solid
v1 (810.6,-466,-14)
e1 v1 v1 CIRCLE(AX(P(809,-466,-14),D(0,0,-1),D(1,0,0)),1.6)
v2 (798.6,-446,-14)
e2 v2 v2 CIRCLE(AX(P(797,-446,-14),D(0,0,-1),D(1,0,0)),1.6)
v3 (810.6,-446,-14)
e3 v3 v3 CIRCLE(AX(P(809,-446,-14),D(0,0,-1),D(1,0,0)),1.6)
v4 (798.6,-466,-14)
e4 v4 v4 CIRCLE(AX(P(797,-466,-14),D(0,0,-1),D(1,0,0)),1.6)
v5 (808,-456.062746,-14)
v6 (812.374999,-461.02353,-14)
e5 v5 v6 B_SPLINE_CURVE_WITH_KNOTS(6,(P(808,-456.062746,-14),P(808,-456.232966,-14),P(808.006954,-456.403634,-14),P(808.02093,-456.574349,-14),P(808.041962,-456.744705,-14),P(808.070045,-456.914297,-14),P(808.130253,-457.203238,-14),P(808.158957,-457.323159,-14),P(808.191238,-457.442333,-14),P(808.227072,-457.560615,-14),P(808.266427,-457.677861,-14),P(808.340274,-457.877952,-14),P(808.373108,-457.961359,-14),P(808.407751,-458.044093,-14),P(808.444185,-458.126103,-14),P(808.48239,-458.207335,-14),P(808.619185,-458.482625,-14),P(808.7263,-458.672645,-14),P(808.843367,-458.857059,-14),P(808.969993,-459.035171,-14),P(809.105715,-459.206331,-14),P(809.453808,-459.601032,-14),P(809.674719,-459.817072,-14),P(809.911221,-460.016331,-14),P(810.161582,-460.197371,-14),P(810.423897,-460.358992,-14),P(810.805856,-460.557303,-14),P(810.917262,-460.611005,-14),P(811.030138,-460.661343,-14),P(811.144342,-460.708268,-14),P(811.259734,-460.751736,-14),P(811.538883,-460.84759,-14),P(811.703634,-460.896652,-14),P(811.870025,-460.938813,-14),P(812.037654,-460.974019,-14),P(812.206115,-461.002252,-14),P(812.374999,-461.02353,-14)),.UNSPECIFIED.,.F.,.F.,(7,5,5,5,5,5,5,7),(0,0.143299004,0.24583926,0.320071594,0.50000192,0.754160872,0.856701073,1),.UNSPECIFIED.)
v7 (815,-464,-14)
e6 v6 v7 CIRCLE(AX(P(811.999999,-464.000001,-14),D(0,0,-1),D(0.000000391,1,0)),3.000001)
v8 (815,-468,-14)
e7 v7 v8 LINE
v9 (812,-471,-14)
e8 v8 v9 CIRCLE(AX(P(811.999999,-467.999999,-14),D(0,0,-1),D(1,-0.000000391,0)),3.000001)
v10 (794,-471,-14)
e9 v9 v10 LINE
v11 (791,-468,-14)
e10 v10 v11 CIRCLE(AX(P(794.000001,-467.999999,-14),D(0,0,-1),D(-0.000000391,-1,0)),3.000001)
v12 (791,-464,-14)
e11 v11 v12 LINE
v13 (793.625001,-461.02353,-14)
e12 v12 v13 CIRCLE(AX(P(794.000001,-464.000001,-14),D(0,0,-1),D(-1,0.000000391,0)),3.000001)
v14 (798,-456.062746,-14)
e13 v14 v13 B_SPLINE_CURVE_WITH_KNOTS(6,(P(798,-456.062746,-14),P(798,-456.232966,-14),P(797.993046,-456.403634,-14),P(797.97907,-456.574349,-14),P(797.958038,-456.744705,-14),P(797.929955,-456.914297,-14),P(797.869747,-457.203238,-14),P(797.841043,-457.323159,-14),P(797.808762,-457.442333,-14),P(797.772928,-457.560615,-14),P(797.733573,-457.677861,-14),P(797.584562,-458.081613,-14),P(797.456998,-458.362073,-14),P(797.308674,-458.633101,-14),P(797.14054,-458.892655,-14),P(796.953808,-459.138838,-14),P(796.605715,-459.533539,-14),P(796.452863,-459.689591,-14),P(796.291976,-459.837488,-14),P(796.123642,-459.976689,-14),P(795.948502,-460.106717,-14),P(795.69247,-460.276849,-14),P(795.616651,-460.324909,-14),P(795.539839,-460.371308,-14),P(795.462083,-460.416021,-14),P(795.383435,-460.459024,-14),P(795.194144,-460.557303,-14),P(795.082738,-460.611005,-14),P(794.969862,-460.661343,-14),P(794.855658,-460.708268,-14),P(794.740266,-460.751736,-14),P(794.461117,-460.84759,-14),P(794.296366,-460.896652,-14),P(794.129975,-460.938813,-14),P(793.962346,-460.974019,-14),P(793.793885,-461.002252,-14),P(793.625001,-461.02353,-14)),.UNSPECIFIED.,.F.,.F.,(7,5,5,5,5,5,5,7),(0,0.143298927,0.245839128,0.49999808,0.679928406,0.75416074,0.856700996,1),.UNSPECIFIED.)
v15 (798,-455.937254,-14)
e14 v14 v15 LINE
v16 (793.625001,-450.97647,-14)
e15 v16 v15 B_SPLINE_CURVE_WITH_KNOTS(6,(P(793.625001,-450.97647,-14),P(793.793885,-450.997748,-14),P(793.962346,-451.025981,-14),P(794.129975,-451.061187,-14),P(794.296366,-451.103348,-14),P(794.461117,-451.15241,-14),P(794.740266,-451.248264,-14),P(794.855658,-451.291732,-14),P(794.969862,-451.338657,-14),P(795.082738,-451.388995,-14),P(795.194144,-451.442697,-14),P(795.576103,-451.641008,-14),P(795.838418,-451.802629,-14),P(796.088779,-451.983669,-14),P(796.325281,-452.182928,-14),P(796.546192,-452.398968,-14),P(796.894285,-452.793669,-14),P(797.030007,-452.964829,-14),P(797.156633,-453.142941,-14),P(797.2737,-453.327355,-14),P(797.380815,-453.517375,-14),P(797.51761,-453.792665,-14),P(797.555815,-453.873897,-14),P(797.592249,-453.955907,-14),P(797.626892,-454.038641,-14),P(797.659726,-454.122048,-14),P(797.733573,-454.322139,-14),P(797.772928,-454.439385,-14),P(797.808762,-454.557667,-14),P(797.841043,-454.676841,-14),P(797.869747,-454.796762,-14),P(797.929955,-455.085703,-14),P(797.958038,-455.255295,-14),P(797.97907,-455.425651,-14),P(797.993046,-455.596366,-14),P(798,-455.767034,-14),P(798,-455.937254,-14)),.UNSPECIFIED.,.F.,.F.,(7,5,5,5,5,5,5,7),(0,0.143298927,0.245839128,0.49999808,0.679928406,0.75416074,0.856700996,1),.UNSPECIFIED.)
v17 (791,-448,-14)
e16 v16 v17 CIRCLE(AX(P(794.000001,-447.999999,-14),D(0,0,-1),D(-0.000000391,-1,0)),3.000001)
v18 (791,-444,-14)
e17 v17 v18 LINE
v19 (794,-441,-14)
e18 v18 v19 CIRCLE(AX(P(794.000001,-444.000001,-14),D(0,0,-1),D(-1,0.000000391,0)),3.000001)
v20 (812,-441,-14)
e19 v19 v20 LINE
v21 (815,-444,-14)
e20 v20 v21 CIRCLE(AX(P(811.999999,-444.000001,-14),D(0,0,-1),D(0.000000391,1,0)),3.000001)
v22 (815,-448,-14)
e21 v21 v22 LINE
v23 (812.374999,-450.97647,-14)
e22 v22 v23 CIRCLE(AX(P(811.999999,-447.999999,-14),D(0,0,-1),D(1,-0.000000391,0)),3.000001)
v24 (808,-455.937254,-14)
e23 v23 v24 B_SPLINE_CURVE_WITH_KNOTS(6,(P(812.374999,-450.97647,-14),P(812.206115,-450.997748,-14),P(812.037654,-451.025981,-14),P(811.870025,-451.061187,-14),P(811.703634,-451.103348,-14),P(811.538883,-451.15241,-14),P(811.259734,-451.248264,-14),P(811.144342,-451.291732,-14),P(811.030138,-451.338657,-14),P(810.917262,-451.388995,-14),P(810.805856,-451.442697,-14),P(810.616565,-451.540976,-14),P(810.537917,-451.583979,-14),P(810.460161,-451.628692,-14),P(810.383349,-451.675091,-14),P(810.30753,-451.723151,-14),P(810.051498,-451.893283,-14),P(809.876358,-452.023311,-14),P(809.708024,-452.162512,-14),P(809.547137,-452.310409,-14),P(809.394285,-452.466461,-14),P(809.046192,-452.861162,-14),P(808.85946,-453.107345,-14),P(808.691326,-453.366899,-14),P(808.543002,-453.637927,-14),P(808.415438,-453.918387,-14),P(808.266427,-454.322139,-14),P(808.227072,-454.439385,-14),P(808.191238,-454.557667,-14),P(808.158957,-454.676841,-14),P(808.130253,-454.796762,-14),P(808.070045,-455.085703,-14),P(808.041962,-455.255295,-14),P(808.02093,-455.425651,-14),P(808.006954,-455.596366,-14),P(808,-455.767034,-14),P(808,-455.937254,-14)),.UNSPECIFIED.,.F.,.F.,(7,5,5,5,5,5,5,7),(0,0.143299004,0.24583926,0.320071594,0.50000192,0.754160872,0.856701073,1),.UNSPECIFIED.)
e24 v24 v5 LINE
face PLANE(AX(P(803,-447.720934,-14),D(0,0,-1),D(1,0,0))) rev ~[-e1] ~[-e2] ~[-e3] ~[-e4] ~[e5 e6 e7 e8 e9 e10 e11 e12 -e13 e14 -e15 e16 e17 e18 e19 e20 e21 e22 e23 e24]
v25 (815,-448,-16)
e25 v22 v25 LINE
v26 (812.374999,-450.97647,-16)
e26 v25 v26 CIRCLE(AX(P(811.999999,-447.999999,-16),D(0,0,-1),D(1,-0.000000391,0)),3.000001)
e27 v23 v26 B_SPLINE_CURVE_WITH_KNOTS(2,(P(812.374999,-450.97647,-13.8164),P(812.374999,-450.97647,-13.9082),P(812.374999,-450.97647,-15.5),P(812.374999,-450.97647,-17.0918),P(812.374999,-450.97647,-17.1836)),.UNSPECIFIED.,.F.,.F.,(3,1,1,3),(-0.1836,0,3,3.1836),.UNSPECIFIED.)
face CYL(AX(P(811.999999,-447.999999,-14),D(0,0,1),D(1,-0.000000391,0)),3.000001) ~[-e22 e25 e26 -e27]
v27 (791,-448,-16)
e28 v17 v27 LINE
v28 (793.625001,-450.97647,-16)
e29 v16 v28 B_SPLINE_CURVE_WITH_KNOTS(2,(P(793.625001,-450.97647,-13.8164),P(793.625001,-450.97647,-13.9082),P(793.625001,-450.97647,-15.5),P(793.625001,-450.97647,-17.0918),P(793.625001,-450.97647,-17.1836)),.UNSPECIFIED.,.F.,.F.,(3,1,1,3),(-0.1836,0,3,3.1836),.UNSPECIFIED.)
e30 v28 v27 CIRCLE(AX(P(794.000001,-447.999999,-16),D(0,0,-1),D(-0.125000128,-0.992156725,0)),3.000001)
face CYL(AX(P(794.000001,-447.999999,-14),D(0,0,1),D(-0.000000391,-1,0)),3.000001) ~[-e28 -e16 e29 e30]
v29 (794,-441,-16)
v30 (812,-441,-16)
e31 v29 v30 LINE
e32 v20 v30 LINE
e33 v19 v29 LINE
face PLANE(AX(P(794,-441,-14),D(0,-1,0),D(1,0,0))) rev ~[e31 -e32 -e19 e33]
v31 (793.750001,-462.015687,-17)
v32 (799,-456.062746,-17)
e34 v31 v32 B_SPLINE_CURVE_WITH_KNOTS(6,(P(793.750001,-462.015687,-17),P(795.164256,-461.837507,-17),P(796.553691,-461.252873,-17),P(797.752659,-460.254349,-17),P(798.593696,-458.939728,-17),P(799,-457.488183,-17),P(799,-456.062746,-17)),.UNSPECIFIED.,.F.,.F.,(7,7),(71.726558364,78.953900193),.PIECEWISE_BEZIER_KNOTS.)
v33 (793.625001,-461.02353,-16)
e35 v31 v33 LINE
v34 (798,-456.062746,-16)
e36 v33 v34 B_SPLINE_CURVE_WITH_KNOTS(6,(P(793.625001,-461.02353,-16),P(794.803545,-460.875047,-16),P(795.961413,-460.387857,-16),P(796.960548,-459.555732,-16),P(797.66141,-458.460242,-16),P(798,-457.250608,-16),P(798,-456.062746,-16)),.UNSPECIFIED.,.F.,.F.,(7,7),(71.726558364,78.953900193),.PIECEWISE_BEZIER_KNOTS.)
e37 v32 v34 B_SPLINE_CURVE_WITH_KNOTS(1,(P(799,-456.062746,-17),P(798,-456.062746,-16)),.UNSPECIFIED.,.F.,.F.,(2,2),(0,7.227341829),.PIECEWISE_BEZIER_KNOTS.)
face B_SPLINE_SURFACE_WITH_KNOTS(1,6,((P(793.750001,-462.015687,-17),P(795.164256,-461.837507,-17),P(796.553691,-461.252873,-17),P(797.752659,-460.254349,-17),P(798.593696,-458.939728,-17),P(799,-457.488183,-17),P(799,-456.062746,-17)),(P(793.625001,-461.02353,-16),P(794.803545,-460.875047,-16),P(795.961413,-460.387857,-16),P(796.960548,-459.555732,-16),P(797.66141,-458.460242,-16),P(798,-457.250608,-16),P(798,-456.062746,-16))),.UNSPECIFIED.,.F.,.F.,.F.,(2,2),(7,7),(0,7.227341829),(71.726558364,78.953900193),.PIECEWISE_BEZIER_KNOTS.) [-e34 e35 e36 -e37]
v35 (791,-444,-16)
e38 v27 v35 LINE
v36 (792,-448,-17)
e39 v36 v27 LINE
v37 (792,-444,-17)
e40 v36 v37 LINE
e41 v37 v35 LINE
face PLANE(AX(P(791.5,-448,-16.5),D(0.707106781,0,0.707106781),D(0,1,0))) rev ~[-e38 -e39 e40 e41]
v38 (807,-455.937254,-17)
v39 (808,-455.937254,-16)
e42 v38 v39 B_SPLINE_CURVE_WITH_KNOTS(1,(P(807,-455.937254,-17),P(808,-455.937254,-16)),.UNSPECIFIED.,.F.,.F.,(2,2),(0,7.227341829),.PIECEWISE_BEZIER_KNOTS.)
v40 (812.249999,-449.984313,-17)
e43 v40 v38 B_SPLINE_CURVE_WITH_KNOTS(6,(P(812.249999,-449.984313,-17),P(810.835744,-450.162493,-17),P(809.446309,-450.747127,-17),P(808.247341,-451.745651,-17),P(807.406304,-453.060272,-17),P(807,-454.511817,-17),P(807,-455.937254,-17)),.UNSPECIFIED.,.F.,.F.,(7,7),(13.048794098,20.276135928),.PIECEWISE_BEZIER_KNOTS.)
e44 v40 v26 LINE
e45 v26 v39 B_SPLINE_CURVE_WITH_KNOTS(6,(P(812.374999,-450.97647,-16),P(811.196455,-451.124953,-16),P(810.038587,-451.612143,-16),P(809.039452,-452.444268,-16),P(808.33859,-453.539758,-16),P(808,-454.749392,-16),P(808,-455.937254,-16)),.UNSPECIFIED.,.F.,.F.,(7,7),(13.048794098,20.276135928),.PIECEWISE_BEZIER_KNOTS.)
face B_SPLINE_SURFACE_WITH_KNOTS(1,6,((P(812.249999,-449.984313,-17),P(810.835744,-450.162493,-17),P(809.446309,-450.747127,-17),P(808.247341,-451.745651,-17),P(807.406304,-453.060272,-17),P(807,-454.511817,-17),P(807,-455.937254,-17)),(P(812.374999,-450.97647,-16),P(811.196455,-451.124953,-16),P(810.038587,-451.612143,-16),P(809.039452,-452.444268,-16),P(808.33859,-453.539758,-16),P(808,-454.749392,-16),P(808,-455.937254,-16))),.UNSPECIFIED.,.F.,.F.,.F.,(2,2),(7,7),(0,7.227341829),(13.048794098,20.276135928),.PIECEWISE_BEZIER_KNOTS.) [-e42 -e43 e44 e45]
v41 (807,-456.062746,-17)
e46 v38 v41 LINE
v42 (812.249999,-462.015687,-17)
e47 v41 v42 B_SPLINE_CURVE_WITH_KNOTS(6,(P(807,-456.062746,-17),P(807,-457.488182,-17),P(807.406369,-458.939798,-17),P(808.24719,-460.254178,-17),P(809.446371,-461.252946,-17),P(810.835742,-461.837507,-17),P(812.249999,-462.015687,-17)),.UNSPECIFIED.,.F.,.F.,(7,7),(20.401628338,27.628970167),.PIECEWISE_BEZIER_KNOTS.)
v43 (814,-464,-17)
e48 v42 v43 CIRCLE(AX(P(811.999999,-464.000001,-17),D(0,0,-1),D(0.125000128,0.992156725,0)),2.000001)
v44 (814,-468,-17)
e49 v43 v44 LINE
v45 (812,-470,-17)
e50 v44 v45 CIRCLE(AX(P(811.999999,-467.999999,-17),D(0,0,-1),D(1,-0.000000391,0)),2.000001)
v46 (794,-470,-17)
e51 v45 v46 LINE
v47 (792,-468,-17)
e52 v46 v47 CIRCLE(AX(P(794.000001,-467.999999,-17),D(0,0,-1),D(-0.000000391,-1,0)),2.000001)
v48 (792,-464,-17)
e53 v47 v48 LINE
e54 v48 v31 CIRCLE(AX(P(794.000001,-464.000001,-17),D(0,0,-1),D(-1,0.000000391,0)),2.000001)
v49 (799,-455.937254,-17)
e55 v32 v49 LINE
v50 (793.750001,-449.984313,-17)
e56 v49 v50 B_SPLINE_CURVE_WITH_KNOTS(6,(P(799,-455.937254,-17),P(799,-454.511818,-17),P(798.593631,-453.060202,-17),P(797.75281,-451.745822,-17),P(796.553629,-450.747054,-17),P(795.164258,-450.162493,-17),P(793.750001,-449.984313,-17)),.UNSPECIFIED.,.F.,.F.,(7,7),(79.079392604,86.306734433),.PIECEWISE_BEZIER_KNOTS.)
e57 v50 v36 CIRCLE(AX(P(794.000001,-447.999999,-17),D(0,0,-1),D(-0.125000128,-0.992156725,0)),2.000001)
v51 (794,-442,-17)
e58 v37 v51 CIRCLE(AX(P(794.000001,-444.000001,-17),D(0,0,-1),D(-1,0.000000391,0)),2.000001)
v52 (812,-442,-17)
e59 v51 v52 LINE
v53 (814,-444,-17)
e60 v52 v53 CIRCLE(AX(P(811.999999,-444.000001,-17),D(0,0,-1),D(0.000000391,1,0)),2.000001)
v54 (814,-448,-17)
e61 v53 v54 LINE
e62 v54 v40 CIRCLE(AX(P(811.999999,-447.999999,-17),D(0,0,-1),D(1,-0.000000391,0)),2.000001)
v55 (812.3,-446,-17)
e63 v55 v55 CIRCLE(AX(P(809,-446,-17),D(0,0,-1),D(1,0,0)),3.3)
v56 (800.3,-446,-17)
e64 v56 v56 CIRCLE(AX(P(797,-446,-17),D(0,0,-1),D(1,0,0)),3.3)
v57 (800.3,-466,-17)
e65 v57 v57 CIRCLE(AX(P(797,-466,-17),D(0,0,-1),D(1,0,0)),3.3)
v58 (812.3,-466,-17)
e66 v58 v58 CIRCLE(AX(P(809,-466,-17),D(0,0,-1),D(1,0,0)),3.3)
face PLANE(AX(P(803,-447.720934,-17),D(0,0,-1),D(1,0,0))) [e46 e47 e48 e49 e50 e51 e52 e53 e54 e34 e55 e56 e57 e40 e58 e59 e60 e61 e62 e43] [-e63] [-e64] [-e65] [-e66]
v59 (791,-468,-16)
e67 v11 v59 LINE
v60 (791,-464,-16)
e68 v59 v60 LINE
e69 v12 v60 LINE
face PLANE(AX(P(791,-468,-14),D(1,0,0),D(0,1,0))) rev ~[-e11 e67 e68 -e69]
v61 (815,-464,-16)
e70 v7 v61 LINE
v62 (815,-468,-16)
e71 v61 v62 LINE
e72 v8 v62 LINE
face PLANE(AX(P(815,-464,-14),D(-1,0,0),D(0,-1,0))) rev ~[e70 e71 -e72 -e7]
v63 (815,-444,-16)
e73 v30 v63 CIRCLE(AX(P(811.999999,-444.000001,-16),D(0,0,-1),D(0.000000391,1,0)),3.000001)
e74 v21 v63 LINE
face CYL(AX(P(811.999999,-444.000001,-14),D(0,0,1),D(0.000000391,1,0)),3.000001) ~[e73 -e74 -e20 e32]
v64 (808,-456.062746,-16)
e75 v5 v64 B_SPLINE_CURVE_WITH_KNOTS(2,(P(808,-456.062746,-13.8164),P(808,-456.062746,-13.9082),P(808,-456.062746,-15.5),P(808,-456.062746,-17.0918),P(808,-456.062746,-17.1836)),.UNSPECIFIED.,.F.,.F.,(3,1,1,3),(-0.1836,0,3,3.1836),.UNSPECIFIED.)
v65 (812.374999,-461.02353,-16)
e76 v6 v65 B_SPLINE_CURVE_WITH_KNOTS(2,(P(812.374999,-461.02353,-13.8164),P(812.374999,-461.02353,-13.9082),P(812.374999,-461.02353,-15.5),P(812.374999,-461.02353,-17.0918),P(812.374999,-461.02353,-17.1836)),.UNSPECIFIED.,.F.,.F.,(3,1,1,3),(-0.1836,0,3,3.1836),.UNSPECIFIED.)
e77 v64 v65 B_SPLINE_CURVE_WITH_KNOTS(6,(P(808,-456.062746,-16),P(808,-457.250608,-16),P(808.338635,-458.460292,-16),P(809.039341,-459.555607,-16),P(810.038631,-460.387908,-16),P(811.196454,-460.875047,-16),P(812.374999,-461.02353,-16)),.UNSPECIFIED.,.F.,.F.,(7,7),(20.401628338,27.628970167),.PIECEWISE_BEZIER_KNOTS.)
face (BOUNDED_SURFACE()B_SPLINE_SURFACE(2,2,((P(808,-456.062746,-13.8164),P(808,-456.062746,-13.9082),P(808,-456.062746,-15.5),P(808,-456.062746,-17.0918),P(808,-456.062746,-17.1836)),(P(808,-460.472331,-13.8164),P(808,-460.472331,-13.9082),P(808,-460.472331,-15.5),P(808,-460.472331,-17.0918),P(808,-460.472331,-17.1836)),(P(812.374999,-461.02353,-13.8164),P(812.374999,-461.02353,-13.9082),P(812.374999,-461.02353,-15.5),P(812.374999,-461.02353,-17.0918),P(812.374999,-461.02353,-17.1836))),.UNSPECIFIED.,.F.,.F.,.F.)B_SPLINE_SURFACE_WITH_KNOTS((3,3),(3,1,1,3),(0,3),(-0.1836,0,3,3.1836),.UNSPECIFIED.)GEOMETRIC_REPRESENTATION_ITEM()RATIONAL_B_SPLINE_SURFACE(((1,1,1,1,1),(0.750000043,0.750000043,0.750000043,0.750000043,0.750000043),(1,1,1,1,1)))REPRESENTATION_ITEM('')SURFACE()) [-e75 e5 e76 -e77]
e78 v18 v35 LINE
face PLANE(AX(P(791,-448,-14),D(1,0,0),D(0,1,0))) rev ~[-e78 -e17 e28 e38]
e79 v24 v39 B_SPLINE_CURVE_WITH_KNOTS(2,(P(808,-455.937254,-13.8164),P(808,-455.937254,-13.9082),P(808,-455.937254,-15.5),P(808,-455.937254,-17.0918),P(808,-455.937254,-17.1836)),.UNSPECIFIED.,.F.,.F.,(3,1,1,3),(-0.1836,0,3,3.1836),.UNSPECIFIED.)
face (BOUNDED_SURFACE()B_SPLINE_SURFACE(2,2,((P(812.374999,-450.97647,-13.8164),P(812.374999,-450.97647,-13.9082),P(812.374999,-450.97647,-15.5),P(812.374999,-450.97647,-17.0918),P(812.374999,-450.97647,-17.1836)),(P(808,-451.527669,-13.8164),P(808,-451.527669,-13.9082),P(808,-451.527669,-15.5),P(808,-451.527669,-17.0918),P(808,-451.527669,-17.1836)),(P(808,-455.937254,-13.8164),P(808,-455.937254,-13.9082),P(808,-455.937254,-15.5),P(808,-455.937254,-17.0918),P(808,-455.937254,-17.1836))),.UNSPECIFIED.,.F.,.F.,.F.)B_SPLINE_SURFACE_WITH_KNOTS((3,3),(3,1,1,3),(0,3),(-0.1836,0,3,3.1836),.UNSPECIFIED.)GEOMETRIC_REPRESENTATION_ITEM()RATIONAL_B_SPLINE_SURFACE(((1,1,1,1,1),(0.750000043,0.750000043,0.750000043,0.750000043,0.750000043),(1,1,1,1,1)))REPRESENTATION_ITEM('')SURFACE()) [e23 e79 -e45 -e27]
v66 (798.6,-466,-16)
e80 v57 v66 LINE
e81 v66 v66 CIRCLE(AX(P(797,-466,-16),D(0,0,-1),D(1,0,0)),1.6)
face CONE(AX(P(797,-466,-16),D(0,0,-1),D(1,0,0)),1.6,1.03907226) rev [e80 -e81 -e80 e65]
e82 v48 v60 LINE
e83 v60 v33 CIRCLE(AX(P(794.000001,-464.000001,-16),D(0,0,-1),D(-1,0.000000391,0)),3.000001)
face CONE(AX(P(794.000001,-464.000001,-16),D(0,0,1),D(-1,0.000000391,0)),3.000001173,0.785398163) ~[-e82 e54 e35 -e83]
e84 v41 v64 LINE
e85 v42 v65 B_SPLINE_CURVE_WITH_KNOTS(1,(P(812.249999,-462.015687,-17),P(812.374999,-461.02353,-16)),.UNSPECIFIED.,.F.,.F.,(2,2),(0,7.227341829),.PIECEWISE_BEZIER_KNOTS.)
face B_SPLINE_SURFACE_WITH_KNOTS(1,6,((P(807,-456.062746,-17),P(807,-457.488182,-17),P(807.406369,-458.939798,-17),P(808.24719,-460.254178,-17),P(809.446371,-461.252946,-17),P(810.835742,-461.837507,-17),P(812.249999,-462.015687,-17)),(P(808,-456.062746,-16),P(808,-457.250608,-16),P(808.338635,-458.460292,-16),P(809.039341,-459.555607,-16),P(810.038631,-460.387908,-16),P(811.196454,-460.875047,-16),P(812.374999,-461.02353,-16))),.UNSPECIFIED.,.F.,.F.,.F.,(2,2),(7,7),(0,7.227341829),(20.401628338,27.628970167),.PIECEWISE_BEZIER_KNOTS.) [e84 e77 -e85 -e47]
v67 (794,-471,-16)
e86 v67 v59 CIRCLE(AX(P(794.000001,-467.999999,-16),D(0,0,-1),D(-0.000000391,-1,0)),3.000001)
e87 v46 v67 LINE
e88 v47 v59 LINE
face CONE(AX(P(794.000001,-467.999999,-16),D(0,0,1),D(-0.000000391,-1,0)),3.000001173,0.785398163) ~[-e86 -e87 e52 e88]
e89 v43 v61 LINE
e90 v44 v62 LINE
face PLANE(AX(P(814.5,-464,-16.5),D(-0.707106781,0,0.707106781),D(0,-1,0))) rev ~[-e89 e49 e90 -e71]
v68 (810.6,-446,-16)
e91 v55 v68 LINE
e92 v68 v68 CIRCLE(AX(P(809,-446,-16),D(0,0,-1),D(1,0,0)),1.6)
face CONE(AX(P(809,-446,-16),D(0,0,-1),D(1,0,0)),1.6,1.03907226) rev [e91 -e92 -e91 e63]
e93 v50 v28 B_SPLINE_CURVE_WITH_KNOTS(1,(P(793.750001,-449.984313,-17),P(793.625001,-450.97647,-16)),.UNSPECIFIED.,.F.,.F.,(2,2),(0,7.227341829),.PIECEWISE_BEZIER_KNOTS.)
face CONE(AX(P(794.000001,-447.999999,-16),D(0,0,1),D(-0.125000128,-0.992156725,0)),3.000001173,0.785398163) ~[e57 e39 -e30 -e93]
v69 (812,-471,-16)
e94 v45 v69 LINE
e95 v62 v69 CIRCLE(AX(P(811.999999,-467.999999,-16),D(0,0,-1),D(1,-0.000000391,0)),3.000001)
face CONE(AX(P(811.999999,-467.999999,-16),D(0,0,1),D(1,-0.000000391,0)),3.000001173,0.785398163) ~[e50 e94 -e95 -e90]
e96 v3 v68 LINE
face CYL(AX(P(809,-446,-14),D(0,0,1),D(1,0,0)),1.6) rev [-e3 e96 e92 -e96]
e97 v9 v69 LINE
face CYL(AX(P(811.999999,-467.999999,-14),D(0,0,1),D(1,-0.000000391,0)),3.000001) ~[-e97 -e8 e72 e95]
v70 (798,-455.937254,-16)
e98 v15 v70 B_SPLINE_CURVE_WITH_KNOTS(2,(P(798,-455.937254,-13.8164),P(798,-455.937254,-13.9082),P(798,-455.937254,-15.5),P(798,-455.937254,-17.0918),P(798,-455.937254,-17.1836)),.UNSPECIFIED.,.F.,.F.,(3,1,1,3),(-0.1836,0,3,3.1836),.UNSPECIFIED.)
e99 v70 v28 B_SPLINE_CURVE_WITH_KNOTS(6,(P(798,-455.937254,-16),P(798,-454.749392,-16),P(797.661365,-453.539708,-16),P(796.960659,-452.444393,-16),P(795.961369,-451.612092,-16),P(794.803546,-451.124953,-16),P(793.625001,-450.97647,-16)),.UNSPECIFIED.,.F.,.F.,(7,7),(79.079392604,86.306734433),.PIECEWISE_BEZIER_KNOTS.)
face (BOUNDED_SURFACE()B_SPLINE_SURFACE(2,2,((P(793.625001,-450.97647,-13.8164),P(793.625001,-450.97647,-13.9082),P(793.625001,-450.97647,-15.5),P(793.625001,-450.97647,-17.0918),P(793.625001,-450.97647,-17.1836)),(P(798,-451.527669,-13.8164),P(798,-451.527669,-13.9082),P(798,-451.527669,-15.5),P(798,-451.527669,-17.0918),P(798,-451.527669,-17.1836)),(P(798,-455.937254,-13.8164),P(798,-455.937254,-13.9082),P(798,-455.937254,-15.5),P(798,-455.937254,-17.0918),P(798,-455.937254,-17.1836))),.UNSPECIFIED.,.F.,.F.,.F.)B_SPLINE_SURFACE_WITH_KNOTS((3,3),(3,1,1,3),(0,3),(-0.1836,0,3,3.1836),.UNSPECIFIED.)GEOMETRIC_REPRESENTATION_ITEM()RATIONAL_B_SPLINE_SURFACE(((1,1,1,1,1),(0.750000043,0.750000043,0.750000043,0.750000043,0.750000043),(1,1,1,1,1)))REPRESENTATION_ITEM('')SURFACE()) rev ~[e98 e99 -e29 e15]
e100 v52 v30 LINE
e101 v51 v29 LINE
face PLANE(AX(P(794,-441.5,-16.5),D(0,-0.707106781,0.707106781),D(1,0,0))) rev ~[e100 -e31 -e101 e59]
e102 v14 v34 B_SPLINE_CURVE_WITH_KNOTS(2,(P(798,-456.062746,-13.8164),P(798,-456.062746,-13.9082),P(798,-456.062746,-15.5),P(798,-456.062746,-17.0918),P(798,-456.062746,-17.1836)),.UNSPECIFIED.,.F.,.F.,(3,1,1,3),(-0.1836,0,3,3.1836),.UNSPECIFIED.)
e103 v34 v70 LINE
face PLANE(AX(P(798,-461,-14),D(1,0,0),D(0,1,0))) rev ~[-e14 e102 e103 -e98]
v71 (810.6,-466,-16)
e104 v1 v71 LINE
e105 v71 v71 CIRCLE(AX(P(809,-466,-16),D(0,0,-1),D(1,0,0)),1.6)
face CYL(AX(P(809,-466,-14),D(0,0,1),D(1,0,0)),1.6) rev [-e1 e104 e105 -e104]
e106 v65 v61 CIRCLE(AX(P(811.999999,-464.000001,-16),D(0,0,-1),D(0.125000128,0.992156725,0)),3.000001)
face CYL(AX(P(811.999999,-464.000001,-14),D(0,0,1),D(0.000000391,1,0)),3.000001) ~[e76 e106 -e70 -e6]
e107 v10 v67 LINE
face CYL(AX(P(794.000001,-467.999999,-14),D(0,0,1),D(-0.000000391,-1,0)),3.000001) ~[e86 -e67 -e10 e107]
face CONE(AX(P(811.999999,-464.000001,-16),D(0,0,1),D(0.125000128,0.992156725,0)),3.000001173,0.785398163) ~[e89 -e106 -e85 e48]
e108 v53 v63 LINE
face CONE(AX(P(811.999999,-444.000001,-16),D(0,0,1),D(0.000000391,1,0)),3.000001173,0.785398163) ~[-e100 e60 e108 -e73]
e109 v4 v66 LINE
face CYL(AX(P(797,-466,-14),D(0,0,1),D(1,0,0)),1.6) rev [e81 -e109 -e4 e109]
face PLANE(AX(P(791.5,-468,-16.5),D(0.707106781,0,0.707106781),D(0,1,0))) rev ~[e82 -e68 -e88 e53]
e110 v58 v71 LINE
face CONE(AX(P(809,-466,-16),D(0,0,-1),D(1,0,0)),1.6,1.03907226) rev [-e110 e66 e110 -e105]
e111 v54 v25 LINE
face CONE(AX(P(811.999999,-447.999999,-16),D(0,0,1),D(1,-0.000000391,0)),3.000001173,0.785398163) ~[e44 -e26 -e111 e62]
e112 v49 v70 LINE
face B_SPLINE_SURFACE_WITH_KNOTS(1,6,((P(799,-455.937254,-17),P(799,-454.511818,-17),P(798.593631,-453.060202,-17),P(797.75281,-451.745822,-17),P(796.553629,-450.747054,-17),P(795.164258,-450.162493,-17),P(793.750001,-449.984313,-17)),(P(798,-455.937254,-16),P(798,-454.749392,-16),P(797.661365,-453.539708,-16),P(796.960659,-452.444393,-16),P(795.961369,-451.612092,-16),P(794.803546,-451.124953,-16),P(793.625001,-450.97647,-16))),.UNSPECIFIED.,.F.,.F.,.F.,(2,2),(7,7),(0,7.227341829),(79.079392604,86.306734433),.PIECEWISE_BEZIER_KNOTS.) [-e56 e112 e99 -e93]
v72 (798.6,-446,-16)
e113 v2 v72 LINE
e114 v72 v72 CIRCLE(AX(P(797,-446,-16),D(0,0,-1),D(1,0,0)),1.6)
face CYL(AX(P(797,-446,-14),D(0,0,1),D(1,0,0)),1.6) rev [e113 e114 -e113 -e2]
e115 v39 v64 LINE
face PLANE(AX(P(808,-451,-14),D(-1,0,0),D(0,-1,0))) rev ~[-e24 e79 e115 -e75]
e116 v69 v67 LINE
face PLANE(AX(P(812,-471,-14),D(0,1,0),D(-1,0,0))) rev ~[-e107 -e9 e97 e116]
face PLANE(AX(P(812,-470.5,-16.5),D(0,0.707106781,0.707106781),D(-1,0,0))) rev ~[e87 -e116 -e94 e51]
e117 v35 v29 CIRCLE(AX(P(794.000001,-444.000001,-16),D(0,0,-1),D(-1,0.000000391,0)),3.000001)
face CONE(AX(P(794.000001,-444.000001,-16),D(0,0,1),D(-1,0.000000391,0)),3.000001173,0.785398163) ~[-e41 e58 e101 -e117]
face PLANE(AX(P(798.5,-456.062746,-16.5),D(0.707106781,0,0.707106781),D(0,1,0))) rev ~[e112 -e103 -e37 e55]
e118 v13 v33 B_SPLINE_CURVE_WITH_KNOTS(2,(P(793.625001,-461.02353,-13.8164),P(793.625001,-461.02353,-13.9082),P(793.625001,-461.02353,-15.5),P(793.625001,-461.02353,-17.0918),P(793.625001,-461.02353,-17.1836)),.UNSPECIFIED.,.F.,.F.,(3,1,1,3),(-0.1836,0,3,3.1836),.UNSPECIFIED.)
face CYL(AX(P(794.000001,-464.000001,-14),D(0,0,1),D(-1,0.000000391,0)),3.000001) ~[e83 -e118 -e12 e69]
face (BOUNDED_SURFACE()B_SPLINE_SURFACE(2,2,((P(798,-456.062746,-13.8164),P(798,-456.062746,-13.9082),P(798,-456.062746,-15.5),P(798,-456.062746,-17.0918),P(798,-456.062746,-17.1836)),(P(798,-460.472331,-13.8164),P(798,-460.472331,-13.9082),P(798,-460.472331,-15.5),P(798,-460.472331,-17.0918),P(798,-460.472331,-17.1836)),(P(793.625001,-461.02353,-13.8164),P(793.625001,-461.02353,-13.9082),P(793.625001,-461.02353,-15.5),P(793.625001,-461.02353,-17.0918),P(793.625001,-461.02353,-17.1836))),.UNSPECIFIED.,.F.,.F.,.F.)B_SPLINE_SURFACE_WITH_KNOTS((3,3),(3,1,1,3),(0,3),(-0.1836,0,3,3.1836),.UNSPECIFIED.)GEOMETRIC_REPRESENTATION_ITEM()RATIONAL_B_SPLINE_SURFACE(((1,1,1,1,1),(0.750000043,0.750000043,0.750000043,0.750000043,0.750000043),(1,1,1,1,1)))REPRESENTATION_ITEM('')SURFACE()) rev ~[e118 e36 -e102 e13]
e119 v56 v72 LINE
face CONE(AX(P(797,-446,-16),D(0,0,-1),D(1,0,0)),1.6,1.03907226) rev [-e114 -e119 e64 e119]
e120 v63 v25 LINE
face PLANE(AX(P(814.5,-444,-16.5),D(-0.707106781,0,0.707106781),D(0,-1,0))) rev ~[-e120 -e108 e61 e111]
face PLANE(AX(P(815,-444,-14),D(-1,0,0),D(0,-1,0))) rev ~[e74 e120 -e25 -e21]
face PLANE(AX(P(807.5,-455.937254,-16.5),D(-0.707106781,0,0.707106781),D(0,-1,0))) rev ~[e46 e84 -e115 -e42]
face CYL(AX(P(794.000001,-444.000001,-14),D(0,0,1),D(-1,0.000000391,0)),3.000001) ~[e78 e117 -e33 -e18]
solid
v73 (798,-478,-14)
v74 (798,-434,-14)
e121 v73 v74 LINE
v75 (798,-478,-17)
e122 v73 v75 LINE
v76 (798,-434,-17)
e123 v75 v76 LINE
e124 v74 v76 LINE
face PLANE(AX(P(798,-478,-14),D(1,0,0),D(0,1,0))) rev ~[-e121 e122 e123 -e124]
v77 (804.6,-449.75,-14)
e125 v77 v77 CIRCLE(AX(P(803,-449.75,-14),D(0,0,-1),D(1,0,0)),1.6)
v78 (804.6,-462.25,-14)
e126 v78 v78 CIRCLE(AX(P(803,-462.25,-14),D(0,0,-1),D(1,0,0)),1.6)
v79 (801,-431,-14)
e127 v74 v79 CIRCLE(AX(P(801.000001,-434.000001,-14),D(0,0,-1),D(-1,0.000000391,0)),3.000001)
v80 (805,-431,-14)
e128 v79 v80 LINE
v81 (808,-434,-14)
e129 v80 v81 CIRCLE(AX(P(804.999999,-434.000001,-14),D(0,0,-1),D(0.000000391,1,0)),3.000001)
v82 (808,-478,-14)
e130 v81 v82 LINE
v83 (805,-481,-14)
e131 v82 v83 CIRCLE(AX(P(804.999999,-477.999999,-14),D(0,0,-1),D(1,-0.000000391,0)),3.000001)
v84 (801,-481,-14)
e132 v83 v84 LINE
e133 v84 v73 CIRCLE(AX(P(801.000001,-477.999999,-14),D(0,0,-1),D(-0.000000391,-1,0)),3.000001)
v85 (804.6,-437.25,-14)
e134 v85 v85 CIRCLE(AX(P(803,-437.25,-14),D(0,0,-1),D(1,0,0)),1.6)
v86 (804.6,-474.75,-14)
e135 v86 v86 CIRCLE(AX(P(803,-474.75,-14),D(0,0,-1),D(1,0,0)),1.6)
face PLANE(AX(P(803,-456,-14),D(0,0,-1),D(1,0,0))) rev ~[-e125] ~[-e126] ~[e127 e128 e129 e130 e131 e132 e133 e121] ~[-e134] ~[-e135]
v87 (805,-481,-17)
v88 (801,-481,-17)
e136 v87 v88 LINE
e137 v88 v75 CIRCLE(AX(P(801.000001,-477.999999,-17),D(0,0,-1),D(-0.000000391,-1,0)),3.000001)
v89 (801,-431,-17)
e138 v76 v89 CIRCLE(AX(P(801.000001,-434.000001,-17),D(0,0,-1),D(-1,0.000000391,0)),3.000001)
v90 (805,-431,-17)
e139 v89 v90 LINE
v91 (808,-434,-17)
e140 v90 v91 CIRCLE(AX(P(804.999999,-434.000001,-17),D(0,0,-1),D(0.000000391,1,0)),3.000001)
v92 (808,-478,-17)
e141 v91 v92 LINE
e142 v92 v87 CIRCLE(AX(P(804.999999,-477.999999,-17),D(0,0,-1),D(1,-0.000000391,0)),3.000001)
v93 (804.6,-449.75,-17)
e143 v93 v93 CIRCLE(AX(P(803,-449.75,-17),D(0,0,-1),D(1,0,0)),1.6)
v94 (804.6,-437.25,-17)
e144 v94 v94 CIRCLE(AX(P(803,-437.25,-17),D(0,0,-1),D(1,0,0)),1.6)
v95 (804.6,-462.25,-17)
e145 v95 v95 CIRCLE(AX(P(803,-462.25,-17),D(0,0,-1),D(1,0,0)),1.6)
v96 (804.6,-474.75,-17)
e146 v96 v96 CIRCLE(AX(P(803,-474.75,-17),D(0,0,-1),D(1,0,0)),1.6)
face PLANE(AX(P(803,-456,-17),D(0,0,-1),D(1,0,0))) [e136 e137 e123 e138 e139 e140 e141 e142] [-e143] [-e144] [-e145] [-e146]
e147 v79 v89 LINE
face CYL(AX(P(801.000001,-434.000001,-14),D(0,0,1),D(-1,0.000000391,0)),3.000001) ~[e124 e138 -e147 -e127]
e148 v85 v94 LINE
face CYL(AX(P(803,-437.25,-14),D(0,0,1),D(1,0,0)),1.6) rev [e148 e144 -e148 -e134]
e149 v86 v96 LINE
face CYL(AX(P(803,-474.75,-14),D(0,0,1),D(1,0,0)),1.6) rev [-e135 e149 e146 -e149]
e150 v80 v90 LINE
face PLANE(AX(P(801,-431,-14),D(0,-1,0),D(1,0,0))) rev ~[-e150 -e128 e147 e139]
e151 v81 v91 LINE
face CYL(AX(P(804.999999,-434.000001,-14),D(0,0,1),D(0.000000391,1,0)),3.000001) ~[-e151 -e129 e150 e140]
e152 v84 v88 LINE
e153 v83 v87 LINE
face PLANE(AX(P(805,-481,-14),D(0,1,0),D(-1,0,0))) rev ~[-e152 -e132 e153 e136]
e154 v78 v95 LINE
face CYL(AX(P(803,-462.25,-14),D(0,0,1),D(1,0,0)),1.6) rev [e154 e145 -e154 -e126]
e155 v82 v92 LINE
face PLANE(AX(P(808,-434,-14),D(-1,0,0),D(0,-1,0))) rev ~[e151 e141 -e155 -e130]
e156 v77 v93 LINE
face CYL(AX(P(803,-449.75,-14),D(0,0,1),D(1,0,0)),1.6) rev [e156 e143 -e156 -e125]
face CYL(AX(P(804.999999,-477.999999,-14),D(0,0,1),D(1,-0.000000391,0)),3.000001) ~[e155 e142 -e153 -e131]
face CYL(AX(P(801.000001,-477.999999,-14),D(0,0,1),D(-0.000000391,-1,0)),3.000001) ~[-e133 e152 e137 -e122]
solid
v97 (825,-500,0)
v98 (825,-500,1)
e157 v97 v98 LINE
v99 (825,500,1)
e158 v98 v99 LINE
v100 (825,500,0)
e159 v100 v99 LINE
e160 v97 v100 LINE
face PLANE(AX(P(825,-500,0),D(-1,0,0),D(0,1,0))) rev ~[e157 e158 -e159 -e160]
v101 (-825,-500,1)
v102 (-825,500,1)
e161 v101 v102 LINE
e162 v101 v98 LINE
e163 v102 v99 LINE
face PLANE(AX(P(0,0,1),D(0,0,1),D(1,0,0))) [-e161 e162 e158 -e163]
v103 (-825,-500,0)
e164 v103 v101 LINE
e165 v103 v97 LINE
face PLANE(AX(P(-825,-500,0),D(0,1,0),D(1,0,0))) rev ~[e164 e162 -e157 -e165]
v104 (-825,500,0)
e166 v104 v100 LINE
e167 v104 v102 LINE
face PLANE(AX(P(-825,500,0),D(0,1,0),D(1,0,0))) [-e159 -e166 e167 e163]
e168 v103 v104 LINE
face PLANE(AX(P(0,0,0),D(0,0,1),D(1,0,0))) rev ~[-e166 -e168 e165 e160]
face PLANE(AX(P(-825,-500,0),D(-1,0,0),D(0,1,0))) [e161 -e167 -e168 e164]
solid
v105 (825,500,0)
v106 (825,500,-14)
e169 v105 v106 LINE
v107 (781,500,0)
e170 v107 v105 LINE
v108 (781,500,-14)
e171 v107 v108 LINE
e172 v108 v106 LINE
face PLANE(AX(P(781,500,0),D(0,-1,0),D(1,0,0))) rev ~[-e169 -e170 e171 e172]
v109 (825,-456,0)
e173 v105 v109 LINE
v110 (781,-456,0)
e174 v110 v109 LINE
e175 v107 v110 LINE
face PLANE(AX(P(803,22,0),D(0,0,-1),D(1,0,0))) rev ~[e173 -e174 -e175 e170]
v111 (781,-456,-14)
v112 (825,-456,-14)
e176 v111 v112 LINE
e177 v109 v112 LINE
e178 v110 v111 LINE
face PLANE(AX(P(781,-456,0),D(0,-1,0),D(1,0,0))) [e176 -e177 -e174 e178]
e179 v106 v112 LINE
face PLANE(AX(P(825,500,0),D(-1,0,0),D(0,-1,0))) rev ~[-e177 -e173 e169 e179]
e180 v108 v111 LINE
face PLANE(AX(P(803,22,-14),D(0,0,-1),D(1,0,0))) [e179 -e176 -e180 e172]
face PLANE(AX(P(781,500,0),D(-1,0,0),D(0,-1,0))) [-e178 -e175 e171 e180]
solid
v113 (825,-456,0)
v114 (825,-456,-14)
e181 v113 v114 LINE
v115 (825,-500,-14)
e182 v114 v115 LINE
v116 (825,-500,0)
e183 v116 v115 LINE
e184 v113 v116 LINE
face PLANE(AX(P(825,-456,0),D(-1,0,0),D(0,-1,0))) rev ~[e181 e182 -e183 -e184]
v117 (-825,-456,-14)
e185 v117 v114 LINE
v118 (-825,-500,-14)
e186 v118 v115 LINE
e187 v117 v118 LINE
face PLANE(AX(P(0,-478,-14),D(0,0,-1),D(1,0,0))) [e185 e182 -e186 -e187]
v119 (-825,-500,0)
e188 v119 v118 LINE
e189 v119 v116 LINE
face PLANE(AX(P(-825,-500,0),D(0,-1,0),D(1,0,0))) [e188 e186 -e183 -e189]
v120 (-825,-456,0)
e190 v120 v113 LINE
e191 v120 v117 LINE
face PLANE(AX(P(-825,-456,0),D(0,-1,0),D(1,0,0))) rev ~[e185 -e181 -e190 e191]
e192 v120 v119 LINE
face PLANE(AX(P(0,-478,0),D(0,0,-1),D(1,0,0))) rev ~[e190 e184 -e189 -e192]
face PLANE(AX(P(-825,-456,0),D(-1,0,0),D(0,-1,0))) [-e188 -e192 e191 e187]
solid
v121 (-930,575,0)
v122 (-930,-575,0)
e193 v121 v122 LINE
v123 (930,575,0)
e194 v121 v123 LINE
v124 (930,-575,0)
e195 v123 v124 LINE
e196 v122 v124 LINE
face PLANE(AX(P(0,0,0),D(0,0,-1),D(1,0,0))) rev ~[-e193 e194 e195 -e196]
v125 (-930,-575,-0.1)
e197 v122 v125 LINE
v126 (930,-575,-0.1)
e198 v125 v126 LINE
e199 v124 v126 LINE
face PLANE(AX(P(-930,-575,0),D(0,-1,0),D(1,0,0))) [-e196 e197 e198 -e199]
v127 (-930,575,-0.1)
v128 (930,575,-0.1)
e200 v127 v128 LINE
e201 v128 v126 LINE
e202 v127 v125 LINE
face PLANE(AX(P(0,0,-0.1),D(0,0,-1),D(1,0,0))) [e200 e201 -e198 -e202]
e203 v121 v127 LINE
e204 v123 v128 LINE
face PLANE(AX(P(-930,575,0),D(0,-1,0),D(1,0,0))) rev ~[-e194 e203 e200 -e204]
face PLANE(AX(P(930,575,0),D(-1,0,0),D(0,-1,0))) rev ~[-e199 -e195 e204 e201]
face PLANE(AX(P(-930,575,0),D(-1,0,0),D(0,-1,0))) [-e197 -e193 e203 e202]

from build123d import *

# Parameters (mm, degrees)
F0_W      = 1650
F0_H      = 1000
F1_DEPTH  = 1
F2_W      = 1860
F2_H      = 1150
F3_DEPTH  = 0.1
F4_W      = 1650
F4_H      = 44
F5_DEPTH  = 14
F6_W      = 44
F6_H      = 956
F7_DEPTH  = 14
F8_R      = 1.6
F9_DEPTH  = 3
F10_R     = 1.6
F11_DEPTH = 3
F12_R     = 5
F13_SIZE2 = 1
F13_SIZE  = 1.7
F14_SIZE  = 1


with BuildPart() as f1:
    # F0 (on Top) → F1 (new body)
    with BuildSketch(Plane.XY):
        Rectangle(F0_W, F0_H)
    extrude(amount=F1_DEPTH)


with BuildPart() as f3:
    # F2 (on face) → F3 (new body)
    with BuildSketch(Plane(origin=(0, 0, 0), x_dir=(1, 0, 0), z_dir=(0, 0, -1))):
        Rectangle(F2_W, F2_H)
    extrude(amount=F3_DEPTH)


with BuildPart() as f5:
    # F4 (on face) → F5 (new body)
    with BuildSketch(Plane(origin=(0, 0, 0), x_dir=(1, 0, 0), z_dir=(0, 0, -1))):
        with Locations((0, 478)):
            Rectangle(F4_W, F4_H)
    extrude(amount=F5_DEPTH)


with BuildPart() as f7:
    # F6 (on face) → F7 (new body)
    with BuildSketch(Plane(origin=(0, 0, 0), x_dir=(1, 0, 0), z_dir=(0, 0, -1))):
        with Locations((803, -22)):
            Rectangle(F6_W, F6_H)
    extrude(amount=F7_DEPTH)


with BuildPart() as f9:
    # F8 (on face) → F9 (new body)
    with BuildSketch(Plane(origin=(0, 0, -14), x_dir=(1, 0, 0), z_dir=(0, 0, -1))):
        with BuildLine():
            ThreePointArc((798, 434), (798.87868, 431.87868), (801, 431))
            Line((801, 431), (805, 431))
            ThreePointArc((805, 431), (807.12132, 431.87868), (808, 434))
            Line((808, 434), (808, 456))
            Line((808, 456), (808, 478))
            ThreePointArc((808, 478), (807.12132, 480.12132), (805, 481))
            Line((805, 481), (801, 481))
            ThreePointArc((801, 481), (798.87868, 480.12132), (798, 478))
            Line((798, 478), (798, 456))
            Line((798, 456), (798, 434))
        make_face()
        with Locations((803, 437.25)):
            Circle(F8_R, mode=Mode.SUBTRACT)
        with Locations((803, 449.75)):
            Circle(F8_R, mode=Mode.SUBTRACT)
        with Locations((803, 462.25)):
            Circle(F8_R, mode=Mode.SUBTRACT)
        with Locations((803, 474.75)):
            Circle(F8_R, mode=Mode.SUBTRACT)
    extrude(amount=F9_DEPTH)


with BuildPart() as f11:
    # F10 (on face) → F11 (new body)
    with BuildSketch(Plane(origin=(0, 0, -14), x_dir=(1, 0, 0), z_dir=(0, 0, -1))):
        with BuildLine():
            Line((798, 451), (794, 451))
            ThreePointArc((794, 451), (791.87868, 450.12132), (791, 448))
            Line((791, 448), (791, 444))
            ThreePointArc((791, 444), (791.87868, 441.87868), (794, 441))
            Line((794, 441), (812, 441))
            ThreePointArc((812, 441), (814.12132, 441.87868), (815, 444))
            Line((815, 444), (815, 448))
            ThreePointArc((815, 448), (814.12132, 450.12132), (812, 451))
            Line((812, 451), (808, 451))
            Line((808, 451), (808, 456))
            Line((808, 456), (798, 456))
            Line((798, 456), (798, 451))
        make_face()
        with Locations((797, 446)):
            Circle(F10_R, mode=Mode.SUBTRACT)
        with Locations((809, 446)):
            Circle(F10_R, mode=Mode.SUBTRACT)
        with BuildLine():
            Line((798, 461), (798, 456))
            Line((798, 456), (808, 456))
            Line((808, 456), (808, 461))
            Line((808, 461), (812, 461))
            ThreePointArc((812, 461), (814.12132, 461.87868), (815, 464))
            Line((815, 464), (815, 468))
            ThreePointArc((815, 468), (814.12132, 470.12132), (812, 471))
            Line((812, 471), (794, 471))
            ThreePointArc((794, 471), (791.87868, 470.12132), (791, 468))
            Line((791, 468), (791, 464))
            ThreePointArc((791, 464), (791.87868, 461.87868), (794, 461))
            Line((794, 461), (798, 461))
        make_face()
        with Locations((797, 466)):
            Circle(F10_R, mode=Mode.SUBTRACT)
        with Locations((809, 466)):
            Circle(F10_R, mode=Mode.SUBTRACT)
    extrude(amount=F11_DEPTH)

    # F12
    f12_edges = [f11.edges().sort_by_distance(p)[0] for p in [
        (808, -461, -15.5),
        (808, -451, -15.5),
        (798, -461, -15.5),
        (798, -451, -15.5),
    ]]
    fillet(f12_edges, radius=F12_R)

    # F13
    f13_edges = [f11.edges().sort_by_distance(p)[0] for p in [
        (807.4, -446, -17),
        (795.4, -446, -17),
        (807.4, -466, -17),
        (795.4, -466, -17),
    ]]
    chamfer(f13_edges, length=F13_SIZE, length2=F13_SIZE2)

    # F14
    f14_edges = [f11.edges().sort_by_distance(p)[0] for p in [
        (814.12132, -441.87868, -17),
    ]]
    chamfer(f14_edges, length=F14_SIZE)


solid = Compound([f1.part, f3.part, f5.part, f7.part, f9.part, f11.part])
